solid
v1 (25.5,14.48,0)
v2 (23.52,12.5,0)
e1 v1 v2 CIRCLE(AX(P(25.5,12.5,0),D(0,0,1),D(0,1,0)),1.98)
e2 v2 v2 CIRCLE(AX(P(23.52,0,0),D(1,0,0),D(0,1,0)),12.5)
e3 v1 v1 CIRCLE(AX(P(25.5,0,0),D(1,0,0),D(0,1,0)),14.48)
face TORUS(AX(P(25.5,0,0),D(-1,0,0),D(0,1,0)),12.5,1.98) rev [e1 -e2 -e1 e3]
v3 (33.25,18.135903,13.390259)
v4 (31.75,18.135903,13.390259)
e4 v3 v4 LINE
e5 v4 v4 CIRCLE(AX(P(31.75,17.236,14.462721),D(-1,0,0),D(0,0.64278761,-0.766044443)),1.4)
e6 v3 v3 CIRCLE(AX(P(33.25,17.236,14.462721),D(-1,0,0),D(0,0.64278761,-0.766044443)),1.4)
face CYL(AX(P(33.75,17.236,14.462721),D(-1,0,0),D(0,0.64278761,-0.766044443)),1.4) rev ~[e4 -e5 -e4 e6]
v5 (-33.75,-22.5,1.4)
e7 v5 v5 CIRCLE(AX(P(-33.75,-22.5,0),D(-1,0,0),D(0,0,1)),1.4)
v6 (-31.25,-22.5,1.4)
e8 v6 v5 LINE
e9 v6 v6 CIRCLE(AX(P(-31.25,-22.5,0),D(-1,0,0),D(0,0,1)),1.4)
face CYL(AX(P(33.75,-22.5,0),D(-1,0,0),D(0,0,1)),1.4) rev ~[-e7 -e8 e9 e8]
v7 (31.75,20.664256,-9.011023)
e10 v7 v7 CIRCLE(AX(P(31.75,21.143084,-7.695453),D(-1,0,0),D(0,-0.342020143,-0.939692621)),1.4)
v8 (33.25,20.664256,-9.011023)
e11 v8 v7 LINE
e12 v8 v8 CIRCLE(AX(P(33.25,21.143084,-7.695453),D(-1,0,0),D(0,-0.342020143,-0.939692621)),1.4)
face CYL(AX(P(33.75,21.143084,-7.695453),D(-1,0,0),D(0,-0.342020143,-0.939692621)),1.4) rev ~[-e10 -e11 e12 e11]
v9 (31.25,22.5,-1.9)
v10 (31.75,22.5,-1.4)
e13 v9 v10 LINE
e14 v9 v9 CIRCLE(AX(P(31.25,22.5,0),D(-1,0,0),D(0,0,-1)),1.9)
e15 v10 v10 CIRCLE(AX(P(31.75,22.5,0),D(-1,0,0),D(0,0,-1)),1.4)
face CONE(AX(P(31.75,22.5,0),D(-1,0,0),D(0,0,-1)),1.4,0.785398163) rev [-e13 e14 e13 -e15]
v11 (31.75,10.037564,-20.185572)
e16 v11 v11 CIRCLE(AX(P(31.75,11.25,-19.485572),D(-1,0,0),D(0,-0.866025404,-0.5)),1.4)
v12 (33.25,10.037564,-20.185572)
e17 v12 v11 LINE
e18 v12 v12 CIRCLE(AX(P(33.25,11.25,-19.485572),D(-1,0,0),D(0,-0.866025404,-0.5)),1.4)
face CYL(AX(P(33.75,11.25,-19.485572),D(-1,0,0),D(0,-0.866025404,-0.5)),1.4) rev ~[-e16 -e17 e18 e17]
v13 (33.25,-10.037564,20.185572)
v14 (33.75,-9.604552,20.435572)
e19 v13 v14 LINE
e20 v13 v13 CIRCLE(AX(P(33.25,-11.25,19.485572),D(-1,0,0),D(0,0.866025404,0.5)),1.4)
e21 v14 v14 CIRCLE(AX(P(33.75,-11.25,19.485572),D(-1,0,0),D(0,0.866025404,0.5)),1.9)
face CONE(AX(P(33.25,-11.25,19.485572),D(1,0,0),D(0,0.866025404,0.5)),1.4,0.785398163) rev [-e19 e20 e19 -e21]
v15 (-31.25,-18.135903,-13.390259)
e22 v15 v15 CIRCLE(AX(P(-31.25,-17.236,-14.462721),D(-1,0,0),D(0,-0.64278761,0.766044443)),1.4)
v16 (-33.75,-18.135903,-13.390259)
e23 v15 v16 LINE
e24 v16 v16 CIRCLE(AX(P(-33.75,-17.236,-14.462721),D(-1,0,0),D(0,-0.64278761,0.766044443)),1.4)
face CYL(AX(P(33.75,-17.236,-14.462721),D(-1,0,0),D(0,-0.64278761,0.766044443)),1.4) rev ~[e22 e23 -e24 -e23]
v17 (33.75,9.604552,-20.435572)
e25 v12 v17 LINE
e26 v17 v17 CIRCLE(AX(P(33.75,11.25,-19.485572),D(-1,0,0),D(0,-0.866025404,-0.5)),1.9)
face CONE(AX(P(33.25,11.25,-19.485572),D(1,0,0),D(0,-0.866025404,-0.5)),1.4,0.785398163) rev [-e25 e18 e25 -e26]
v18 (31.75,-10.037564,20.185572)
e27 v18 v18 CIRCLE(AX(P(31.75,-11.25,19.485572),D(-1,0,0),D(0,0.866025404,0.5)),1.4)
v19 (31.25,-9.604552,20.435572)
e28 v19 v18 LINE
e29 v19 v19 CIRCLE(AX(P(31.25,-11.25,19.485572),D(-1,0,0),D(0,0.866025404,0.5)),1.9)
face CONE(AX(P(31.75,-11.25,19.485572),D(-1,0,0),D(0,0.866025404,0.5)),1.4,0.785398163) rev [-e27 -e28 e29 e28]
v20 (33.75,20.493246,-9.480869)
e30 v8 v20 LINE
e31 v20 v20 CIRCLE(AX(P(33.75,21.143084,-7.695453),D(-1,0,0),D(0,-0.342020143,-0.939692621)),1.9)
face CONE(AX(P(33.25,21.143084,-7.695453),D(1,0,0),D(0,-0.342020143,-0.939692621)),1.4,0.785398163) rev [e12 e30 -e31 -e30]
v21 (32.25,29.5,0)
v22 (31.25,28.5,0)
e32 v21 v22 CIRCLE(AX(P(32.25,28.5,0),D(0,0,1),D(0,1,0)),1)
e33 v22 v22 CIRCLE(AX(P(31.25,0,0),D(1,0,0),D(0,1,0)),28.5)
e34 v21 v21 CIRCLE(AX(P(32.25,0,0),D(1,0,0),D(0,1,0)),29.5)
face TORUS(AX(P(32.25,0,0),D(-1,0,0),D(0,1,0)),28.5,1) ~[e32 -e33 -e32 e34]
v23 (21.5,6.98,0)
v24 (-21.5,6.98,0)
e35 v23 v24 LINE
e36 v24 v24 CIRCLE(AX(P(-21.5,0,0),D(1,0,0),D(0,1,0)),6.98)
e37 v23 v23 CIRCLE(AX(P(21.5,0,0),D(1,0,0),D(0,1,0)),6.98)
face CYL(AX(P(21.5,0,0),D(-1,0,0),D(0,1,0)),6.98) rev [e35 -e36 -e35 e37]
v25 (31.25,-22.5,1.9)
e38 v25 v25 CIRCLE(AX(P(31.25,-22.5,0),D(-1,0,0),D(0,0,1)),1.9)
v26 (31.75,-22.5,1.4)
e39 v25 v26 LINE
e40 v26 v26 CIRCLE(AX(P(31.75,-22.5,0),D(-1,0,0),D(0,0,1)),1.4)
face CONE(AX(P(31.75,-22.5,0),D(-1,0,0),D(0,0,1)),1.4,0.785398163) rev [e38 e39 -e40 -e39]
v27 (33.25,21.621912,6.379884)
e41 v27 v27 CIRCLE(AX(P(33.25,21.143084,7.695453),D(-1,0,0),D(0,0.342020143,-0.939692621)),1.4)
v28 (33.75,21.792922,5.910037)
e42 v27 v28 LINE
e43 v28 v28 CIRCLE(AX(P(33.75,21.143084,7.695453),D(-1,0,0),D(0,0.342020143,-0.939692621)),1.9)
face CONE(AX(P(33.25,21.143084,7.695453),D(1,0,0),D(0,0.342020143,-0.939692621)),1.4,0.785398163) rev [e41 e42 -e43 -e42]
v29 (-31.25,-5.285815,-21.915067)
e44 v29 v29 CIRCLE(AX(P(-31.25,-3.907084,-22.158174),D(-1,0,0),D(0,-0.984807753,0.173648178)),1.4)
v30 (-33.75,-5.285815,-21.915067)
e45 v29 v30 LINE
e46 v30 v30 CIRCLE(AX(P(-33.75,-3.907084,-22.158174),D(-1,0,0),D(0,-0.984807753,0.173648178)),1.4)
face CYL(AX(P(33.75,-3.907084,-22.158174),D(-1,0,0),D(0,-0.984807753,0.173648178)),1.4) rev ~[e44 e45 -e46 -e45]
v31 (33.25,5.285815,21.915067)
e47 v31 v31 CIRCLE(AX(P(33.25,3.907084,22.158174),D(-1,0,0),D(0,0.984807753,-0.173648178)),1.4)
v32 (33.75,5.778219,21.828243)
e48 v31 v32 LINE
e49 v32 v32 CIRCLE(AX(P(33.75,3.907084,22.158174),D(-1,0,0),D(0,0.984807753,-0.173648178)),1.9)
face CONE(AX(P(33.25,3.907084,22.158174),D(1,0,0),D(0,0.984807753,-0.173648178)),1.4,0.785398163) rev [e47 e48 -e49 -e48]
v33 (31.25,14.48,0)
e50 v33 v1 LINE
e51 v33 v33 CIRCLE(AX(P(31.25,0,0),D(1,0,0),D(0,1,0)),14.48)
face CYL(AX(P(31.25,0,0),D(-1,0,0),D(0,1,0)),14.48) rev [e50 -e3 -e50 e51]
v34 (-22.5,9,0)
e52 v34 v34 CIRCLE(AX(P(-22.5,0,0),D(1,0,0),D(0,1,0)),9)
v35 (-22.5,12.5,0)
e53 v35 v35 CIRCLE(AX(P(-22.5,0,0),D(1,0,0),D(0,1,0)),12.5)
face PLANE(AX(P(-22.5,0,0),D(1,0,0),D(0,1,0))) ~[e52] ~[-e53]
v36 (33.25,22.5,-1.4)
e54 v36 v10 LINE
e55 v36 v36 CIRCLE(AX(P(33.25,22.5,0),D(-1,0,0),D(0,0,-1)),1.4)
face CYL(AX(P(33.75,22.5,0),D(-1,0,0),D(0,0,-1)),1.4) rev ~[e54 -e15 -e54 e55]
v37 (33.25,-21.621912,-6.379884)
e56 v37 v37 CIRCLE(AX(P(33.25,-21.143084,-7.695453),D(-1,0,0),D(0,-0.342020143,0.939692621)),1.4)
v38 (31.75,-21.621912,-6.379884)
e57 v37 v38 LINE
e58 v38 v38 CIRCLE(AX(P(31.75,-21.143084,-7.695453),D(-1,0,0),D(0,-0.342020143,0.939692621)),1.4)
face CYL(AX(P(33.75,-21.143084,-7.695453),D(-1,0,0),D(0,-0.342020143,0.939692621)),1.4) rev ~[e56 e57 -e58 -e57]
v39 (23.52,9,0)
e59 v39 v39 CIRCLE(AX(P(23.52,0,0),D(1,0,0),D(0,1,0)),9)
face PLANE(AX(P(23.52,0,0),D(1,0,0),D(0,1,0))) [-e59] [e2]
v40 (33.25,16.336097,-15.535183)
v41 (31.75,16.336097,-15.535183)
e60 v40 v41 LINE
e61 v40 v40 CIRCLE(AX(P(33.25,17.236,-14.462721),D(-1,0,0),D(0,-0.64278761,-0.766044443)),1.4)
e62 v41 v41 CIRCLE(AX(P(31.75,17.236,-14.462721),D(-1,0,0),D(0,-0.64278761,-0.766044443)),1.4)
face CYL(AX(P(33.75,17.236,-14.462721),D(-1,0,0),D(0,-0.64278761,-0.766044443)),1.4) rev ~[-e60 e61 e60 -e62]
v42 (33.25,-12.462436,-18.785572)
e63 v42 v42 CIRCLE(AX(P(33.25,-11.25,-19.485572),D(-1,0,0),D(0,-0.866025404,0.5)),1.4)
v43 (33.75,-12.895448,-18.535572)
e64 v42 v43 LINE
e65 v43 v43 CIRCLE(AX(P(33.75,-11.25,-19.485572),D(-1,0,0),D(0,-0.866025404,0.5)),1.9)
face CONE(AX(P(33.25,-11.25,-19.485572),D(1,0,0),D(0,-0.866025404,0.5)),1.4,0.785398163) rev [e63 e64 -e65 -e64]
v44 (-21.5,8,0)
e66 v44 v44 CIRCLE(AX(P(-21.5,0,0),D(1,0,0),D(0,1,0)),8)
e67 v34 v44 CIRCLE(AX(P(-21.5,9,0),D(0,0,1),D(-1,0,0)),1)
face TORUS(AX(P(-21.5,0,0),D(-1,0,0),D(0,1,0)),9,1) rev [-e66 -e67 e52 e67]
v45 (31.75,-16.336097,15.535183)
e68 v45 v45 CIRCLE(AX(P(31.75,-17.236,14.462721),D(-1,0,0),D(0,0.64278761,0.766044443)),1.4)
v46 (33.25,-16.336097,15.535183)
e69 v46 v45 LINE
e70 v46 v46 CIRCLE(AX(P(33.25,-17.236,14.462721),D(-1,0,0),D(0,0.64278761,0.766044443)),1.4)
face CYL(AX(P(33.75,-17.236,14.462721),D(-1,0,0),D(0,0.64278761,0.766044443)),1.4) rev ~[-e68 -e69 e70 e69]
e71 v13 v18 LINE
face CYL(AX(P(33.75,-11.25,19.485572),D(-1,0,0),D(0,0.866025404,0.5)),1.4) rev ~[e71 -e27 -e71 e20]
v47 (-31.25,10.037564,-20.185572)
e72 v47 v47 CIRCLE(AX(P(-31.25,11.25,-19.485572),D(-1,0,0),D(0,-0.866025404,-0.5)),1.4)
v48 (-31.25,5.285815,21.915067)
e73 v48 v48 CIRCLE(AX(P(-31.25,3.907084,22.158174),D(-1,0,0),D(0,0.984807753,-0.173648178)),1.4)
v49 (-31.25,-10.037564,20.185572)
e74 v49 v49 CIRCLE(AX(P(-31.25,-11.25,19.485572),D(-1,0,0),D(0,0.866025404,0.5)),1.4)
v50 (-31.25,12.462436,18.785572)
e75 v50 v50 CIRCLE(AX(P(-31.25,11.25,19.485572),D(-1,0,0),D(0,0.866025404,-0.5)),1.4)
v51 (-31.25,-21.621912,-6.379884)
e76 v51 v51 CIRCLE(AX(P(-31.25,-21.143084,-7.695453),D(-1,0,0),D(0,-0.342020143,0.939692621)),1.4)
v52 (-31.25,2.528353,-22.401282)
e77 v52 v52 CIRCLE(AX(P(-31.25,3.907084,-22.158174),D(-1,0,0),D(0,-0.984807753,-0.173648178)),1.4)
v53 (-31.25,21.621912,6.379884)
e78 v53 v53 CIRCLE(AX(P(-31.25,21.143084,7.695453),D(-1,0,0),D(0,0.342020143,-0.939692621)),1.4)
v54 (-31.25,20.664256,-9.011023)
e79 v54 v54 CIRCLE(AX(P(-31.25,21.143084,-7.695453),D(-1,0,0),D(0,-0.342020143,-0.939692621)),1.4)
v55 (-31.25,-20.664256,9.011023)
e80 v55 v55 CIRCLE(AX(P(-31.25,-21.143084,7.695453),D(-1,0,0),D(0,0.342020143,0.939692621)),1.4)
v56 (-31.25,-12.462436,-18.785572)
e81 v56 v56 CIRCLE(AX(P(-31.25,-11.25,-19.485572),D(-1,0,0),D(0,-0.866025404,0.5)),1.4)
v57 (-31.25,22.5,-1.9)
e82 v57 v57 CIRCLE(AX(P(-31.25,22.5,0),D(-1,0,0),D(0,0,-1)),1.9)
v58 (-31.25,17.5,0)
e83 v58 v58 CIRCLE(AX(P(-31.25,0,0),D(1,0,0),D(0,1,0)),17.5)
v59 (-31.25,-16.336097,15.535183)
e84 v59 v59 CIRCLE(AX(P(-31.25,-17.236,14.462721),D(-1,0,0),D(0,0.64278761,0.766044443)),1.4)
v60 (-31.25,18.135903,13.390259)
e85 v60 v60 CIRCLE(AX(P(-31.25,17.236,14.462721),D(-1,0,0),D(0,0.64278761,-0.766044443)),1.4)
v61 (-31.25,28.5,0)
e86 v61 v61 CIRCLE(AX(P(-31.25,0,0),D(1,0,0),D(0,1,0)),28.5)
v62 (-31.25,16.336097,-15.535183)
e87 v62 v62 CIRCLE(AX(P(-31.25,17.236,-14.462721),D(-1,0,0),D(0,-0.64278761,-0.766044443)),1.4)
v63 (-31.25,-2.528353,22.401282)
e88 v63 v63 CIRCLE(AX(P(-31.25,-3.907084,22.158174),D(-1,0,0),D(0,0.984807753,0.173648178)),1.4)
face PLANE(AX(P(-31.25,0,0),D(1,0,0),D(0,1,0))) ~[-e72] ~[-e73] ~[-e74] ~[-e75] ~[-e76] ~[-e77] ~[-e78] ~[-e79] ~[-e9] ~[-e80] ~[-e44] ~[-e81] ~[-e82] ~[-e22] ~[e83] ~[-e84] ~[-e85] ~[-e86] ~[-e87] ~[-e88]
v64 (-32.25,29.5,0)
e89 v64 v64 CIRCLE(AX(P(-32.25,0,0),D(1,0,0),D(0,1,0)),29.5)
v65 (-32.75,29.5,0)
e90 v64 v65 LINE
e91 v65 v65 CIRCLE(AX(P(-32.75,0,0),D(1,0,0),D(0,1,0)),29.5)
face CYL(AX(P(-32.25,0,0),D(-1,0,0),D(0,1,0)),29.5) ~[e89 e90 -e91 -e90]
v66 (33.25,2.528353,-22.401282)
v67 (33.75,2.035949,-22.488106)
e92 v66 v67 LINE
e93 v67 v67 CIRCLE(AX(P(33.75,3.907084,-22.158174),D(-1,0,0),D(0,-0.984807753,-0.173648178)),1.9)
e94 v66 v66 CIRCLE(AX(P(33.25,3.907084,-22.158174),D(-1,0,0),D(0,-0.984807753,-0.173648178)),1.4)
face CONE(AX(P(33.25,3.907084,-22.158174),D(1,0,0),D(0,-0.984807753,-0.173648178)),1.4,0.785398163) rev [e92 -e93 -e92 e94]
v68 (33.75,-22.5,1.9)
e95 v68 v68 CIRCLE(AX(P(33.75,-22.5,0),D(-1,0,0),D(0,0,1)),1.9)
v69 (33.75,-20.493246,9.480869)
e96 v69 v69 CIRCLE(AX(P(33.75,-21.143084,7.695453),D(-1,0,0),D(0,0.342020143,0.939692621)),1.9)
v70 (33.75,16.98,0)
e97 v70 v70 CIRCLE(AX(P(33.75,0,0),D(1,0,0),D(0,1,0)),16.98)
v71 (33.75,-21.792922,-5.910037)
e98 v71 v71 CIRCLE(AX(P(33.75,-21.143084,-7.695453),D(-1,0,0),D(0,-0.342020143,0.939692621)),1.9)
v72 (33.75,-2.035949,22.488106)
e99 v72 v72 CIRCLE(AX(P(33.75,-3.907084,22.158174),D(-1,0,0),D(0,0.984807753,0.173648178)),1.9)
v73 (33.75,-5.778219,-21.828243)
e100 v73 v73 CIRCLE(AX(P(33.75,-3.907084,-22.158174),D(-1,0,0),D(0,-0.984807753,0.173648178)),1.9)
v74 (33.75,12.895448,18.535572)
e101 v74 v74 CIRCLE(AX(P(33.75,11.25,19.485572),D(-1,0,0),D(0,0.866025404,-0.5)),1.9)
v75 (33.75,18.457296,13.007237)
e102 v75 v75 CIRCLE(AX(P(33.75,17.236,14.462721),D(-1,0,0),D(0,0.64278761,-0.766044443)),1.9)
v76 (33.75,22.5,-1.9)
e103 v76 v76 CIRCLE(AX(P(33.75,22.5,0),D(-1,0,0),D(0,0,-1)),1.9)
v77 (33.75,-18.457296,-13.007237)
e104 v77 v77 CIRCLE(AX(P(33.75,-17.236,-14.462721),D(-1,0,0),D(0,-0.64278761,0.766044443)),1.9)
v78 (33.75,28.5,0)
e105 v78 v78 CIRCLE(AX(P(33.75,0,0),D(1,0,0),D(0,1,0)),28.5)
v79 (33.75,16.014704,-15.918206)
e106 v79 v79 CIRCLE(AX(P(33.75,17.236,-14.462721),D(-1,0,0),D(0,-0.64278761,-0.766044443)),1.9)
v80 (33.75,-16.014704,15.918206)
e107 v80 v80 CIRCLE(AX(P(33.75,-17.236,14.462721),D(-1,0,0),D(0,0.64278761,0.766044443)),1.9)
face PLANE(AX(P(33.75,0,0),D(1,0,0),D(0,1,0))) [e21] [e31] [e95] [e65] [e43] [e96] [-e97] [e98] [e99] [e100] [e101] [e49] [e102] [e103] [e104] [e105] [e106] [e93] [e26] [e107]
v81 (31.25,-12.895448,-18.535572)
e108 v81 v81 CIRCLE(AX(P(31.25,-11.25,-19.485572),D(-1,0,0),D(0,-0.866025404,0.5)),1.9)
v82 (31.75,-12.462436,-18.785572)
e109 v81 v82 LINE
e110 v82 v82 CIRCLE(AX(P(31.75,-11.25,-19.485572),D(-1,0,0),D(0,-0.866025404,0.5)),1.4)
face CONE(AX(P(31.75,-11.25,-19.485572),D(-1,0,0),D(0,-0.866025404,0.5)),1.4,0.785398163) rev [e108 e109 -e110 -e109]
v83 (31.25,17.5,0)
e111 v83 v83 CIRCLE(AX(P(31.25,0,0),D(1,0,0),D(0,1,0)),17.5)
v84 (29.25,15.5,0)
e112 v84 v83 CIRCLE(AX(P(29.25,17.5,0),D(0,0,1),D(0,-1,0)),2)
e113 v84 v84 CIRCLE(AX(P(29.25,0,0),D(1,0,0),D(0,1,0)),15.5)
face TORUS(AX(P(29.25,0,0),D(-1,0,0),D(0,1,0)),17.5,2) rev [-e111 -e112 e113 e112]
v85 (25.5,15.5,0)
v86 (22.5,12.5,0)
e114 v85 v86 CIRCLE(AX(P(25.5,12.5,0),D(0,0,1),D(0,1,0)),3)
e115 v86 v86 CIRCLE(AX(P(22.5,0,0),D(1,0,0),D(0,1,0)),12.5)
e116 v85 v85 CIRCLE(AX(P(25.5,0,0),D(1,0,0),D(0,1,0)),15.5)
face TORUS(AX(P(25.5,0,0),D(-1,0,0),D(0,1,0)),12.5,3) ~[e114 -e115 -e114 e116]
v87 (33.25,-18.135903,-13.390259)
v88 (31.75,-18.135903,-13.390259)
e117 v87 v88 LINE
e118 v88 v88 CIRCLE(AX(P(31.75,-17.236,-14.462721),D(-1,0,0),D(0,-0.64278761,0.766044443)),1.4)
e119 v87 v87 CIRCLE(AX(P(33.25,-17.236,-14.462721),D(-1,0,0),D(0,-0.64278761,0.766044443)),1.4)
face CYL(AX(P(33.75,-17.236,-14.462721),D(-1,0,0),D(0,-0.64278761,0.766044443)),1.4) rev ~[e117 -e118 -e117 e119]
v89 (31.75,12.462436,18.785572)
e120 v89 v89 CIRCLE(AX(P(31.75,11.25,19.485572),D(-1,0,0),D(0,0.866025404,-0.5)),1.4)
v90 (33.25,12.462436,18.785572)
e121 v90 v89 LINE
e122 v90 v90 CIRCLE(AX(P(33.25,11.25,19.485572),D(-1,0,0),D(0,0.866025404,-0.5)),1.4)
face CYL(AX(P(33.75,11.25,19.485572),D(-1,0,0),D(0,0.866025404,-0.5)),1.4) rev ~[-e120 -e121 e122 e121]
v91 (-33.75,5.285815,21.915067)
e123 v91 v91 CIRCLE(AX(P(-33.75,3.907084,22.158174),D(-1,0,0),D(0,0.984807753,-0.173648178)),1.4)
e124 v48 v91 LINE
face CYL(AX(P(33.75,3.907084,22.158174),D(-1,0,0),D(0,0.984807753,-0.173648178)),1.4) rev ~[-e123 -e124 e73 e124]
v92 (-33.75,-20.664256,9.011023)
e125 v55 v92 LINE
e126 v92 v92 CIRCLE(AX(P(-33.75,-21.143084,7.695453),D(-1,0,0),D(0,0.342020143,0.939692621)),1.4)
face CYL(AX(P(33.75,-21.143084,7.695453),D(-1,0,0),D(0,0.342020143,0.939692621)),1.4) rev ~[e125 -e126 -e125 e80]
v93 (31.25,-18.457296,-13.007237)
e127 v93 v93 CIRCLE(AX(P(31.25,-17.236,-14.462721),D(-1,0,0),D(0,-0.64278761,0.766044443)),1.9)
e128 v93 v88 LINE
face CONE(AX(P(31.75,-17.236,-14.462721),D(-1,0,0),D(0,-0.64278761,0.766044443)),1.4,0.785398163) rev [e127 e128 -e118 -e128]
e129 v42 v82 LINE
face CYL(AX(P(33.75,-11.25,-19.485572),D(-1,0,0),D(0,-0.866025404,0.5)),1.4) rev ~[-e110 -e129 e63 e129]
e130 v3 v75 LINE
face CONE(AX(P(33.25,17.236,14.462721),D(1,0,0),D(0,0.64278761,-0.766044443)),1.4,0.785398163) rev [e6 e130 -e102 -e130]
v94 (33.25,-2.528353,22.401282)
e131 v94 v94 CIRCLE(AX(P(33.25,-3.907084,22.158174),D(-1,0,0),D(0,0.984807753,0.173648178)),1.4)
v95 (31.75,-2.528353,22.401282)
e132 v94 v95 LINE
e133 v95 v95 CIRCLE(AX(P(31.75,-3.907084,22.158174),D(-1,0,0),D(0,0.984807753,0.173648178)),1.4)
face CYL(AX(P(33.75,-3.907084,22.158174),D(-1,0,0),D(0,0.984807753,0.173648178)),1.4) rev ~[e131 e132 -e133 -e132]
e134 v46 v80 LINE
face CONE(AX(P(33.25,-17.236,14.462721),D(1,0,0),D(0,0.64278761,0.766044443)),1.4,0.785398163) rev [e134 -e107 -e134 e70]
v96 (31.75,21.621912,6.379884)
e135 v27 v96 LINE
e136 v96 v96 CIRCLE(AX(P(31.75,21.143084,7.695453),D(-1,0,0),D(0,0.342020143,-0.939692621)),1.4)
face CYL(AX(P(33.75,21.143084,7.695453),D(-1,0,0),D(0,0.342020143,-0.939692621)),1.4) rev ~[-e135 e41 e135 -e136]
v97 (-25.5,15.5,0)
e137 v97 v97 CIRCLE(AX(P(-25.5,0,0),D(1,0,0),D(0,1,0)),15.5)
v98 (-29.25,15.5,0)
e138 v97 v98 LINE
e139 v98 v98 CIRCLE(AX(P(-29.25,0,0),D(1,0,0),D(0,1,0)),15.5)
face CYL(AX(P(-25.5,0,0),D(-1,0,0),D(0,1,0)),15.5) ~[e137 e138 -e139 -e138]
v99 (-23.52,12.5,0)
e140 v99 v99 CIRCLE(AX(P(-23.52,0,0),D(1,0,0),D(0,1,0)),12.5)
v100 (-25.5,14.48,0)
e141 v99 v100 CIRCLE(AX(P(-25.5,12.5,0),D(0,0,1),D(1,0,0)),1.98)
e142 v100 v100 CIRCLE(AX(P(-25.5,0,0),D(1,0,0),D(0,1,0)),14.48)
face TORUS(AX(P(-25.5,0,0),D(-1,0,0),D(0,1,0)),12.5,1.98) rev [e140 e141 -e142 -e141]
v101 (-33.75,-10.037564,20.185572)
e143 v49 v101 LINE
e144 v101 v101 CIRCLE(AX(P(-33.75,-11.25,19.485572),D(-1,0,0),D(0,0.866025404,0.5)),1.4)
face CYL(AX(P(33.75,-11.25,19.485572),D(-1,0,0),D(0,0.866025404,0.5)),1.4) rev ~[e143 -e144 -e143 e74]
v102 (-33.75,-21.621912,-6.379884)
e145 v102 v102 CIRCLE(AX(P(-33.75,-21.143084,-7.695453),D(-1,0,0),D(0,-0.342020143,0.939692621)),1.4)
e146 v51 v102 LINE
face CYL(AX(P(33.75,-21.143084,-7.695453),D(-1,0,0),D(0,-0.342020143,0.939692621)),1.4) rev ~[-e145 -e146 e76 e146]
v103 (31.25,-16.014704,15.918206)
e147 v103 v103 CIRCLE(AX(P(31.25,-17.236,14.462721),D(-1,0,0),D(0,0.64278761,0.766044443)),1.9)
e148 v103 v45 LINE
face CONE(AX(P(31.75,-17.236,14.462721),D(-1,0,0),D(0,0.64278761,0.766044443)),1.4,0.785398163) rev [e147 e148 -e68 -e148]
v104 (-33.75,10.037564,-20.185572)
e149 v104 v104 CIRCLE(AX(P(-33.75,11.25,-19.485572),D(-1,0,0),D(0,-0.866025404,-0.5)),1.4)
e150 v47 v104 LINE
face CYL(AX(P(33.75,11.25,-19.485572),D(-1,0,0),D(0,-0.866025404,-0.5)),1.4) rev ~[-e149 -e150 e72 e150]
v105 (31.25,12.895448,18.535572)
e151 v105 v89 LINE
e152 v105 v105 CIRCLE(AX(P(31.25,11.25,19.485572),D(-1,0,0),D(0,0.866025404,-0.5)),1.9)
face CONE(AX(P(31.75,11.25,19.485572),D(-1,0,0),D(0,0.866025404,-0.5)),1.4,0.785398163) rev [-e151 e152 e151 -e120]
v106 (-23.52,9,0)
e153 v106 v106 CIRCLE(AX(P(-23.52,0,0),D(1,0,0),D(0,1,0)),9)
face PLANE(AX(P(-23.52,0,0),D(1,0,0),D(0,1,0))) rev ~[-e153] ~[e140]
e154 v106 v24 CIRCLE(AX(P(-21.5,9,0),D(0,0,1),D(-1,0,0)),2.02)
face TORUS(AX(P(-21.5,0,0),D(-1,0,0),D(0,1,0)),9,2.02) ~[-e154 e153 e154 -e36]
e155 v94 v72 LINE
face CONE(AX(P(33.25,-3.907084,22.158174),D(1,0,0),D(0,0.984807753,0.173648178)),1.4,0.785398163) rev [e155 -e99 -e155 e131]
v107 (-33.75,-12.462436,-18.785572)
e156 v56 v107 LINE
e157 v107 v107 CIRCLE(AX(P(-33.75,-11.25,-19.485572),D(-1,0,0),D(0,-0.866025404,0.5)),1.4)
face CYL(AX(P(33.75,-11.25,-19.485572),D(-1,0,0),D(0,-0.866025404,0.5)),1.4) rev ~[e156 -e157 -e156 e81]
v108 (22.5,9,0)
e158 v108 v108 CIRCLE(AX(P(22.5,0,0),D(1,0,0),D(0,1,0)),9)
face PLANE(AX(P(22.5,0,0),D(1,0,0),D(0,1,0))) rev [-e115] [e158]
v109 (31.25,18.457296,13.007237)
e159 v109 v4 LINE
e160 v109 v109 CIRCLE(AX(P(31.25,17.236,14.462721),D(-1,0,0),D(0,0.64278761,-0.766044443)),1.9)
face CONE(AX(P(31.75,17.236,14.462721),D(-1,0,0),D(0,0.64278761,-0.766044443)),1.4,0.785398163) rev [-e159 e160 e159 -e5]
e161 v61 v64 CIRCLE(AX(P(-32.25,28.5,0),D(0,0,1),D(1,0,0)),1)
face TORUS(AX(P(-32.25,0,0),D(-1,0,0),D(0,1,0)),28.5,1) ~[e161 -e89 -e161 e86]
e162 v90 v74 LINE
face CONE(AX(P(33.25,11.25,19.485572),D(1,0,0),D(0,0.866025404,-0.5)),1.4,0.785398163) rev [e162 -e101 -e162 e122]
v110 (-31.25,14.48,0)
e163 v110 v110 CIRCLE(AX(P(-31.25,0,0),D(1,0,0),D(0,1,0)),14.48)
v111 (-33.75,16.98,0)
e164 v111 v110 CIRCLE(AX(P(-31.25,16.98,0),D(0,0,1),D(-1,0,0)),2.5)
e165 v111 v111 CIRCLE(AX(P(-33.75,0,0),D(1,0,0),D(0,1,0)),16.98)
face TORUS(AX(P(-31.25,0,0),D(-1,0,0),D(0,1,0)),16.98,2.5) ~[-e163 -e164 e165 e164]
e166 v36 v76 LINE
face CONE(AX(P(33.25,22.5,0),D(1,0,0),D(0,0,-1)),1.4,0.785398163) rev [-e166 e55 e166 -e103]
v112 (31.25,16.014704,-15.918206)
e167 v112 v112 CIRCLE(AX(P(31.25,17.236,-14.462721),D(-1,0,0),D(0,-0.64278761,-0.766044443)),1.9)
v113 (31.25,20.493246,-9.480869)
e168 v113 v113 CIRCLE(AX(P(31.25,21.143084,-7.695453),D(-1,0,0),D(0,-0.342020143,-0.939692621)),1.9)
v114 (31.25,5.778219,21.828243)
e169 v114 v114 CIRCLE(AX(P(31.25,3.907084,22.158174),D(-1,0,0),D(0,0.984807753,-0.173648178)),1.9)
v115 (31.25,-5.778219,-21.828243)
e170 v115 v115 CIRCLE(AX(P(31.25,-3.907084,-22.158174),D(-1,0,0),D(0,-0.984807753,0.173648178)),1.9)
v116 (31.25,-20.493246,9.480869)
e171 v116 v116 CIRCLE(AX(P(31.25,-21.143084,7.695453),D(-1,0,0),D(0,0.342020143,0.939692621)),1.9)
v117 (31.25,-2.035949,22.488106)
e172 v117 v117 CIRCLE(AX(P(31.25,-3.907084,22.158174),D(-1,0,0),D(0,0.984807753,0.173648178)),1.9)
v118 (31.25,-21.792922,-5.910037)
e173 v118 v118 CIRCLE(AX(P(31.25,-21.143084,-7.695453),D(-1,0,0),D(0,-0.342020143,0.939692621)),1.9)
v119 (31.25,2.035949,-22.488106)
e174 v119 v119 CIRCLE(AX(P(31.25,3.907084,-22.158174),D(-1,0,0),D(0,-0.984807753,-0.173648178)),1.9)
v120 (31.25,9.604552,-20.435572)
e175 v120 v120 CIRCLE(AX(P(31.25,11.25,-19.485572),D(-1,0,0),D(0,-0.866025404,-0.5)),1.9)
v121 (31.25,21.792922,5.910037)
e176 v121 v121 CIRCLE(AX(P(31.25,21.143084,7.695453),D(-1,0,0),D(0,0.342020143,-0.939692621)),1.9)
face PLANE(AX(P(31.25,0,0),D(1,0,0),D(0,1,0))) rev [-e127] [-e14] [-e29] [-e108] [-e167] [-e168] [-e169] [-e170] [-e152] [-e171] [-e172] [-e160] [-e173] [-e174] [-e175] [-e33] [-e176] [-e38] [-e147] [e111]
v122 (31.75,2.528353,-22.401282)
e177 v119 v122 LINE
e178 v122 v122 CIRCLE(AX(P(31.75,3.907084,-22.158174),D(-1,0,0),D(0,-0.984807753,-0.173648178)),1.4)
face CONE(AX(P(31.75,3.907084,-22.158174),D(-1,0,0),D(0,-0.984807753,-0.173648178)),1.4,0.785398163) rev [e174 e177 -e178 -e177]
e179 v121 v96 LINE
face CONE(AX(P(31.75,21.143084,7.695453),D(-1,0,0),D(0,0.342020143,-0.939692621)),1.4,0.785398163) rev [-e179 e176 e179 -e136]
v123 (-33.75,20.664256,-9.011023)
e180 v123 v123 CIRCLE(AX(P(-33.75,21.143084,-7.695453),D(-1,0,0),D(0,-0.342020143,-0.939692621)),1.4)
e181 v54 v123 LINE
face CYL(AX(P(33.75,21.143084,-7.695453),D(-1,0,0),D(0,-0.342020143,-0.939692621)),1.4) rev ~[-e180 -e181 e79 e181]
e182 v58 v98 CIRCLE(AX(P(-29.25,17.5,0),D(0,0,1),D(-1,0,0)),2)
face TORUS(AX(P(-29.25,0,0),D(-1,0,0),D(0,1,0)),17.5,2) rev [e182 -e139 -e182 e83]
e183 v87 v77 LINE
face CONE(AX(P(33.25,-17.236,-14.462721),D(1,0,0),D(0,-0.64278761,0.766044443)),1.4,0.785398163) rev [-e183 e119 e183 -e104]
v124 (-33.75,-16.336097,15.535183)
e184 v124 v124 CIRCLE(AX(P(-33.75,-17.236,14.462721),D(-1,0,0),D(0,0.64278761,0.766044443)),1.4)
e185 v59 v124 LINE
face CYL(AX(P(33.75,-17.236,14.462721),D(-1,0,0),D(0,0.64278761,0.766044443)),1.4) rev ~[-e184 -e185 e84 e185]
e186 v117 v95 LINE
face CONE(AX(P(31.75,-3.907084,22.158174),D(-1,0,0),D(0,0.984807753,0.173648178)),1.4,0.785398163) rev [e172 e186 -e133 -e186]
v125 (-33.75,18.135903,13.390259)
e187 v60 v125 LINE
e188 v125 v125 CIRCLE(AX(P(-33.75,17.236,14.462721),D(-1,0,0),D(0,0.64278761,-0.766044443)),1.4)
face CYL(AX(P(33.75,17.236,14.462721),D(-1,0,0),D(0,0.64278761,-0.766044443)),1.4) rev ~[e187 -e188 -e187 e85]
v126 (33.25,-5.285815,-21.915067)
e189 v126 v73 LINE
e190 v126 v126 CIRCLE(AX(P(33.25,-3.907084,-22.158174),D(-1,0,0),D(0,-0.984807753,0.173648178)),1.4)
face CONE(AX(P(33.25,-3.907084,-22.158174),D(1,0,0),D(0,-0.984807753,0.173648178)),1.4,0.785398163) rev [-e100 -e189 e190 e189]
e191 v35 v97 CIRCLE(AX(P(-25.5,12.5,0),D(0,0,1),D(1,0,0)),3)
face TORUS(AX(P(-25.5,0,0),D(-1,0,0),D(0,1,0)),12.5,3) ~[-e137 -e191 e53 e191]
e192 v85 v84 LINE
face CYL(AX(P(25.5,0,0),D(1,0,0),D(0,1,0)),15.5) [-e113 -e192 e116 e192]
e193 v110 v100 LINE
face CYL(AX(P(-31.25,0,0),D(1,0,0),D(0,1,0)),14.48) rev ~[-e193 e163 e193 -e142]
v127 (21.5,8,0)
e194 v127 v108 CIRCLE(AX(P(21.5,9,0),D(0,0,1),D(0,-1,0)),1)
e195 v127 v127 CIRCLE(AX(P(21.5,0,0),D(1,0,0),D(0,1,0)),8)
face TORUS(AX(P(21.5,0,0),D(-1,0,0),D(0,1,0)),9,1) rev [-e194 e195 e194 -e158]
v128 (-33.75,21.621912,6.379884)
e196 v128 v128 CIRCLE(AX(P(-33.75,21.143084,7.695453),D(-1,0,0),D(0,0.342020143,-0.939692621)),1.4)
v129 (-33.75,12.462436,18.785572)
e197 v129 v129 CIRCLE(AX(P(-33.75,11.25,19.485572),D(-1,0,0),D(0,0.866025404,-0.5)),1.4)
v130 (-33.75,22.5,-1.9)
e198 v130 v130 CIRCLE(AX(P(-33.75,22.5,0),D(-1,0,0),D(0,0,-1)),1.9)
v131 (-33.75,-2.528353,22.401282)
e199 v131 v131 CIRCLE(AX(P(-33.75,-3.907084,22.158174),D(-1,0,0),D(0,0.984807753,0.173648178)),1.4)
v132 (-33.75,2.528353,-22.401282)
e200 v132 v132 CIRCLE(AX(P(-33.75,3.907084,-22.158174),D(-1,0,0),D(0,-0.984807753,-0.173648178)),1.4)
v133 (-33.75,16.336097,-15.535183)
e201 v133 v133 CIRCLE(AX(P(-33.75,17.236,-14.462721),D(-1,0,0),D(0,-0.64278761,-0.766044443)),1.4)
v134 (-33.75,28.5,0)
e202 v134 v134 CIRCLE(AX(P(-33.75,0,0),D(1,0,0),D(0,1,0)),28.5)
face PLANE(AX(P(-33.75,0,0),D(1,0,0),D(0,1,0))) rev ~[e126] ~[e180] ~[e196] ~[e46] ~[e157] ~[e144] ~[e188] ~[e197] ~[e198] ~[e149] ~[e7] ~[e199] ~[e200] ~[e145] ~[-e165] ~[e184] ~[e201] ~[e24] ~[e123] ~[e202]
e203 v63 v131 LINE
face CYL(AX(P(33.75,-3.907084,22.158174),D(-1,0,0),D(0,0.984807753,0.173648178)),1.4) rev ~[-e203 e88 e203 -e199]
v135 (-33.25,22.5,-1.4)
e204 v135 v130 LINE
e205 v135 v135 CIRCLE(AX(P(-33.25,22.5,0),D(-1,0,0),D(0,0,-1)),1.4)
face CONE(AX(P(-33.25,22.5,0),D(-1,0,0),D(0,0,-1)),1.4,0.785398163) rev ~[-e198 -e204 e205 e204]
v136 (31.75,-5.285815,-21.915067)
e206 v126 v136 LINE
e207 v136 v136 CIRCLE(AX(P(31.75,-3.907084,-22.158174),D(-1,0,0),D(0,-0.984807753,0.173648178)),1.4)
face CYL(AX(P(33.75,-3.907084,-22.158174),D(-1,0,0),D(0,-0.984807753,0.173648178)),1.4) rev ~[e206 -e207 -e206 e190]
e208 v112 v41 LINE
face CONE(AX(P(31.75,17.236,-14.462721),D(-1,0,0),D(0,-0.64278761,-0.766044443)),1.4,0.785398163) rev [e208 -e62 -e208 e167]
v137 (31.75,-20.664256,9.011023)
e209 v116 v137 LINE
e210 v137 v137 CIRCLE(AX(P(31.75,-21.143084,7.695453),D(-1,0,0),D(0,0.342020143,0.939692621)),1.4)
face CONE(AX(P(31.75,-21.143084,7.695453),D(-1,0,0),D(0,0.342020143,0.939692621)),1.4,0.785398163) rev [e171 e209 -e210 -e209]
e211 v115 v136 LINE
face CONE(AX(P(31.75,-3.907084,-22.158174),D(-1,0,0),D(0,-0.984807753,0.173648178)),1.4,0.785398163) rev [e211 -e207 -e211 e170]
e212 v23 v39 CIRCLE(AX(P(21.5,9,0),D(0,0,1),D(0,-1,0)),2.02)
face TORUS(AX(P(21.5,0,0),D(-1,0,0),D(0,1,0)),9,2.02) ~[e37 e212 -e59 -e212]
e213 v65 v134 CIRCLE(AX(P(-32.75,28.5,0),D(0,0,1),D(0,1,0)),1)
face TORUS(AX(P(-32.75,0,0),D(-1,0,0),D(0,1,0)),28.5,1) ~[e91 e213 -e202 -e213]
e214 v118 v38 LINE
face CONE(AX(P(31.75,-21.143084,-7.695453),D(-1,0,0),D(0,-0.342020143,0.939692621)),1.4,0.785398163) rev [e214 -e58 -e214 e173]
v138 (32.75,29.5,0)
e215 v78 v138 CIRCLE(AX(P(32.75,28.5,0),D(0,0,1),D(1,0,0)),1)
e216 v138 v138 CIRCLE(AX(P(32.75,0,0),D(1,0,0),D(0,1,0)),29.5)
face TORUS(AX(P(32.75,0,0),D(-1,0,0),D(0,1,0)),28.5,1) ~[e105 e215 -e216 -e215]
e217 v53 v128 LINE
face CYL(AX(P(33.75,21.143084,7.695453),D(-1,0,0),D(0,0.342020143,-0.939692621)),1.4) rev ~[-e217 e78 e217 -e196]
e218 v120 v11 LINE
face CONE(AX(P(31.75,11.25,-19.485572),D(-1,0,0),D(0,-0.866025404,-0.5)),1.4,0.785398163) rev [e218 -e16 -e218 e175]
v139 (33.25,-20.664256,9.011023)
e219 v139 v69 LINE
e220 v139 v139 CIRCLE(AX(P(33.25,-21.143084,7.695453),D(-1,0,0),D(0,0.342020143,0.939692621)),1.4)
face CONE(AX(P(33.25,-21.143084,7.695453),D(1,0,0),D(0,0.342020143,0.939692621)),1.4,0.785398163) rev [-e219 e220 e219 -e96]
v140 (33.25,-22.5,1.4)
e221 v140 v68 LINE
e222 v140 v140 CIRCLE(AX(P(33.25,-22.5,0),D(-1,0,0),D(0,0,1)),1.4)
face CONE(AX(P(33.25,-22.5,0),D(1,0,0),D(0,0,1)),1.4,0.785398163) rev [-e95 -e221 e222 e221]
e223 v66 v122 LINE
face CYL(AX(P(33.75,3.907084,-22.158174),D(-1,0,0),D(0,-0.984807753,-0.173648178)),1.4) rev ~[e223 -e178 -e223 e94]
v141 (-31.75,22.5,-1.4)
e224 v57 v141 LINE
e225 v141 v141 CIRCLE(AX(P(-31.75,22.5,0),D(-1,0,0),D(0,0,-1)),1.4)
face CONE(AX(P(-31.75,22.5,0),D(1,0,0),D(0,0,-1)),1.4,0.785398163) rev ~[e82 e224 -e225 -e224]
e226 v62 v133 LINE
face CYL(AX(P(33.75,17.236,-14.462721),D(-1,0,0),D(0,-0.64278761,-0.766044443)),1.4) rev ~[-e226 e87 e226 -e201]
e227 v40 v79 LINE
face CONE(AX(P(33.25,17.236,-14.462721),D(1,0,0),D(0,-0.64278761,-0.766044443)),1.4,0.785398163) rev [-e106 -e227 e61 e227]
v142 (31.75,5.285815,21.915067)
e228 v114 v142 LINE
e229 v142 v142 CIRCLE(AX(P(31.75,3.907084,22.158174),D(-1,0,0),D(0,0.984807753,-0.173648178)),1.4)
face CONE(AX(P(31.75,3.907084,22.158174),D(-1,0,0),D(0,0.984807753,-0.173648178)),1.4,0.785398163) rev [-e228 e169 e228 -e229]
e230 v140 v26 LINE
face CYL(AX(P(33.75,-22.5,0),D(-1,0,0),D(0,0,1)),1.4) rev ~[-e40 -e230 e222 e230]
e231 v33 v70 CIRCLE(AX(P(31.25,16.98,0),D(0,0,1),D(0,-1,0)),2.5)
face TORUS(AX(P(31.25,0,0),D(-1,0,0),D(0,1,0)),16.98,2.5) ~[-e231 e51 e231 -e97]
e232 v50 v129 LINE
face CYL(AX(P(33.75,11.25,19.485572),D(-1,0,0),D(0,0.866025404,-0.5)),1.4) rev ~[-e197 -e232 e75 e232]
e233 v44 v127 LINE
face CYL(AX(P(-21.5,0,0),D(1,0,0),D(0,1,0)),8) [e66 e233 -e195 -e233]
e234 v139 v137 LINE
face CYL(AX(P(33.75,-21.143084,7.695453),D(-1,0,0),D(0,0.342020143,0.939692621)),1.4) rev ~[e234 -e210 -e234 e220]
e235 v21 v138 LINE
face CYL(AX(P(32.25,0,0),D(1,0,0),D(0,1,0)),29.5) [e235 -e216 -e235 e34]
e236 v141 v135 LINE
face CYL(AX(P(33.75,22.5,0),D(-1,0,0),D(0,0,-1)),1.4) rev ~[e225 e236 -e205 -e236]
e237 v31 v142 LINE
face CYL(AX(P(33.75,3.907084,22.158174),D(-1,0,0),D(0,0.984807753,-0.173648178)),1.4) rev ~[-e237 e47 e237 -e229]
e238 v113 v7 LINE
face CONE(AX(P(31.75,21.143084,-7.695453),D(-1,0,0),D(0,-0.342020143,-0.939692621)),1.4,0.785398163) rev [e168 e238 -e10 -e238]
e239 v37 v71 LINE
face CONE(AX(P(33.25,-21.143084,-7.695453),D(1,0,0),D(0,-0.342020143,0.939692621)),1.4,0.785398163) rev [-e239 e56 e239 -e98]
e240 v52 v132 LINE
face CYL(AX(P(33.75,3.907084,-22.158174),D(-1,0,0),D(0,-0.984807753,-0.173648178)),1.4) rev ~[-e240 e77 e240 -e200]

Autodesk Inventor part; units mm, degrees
ref_plane "YZ Plane" through (0, 0, 0) normal (1, 0, 0) x (0, 1, 0)
ref_plane "XZ Plane" through (0, 0, 0) normal (0, 1, 0) x (-1, 0, 0)
ref_plane "XY Plane" through (0, 0, 0) normal (0, 0, 1) x (1, 0, 0)
sketch "Szkic1" plane through (0, 0, 0) normal (0, 0, 1) x (1, 0, 0)
  line L0 (-11.9267, 0) -> (11.9804, 0) construction
  line L1 (-21.5, 8) -> (21.5, 8)
  line L2 (0, 16.2765) -> (0, -12.1999) construction
  arc A0 (21.5, 8) -> (22.5, 9) centre (21.5, 9) ccw
  line L3 (22.5, 9) -> (22.5, 12.5)
  arc A1 (25.5, 15.5) -> (22.5, 12.5) centre (25.5, 12.5) ccw
  line L4 (25.5, 15.5) -> (29.25, 15.5)
  arc A2 (29.25, 15.5) -> (31.25, 17.5) centre (29.25, 17.5) ccw
  line L5 (31.25, 17.5) -> (31.25, 28.5)
  arc A3 (32.25, 29.5) -> (31.25, 28.5) centre (32.25, 28.5) ccw
  line L6 (32.25, 29.5) -> (32.75, 29.5)
  line L7 (33.75, 28.5) -> (33.75, 16.98)
  arc A4 (33.75, 28.5) -> (32.75, 29.5) centre (32.75, 28.5) ccw
  line L8 (31.25, 14.48) -> (25.5, 14.48)
  arc A5 (25.5, 14.48) -> (23.52, 12.5) centre (25.5, 12.5) ccw
  line L9 (23.52, 12.5) -> (23.52, 9)
  arc A6 (21.5, 6.98) -> (23.52, 9) centre (21.5, 9) ccw
  line L10 (21.5, 6.98) -> (-21.5, 6.98)
  arc A7 (31.25, 14.48) -> (33.75, 16.98) centre (31.25, 16.98) ccw
  arc A8 (-22.5, 9) -> (-21.5, 8) centre (-21.5, 9) ccw
  line L11 (-22.5, 9) -> (-22.5, 12.5)
  arc A9 (-22.5, 12.5) -> (-25.5, 15.5) centre (-25.5, 12.5) ccw
  line L12 (-25.5, 15.5) -> (-29.25, 15.5)
  arc A10 (-31.25, 17.5) -> (-29.25, 15.5) centre (-29.25, 17.5) ccw
  arc A11 (-33.75, 16.98) -> (-31.25, 14.48) centre (-31.25, 16.98) ccw
  line L13 (-31.25, 14.48) -> (-25.5, 14.48)
  arc A12 (-23.52, 12.5) -> (-25.5, 14.48) centre (-25.5, 12.5) ccw
  line L14 (-23.52, 12.5) -> (-23.52, 9)
  arc A13 (-23.52, 9) -> (-21.5, 6.98) centre (-21.5, 9) ccw
  line L15 (-31.25, 17.5) -> (-31.25, 28.5)
  arc A14 (-31.25, 28.5) -> (-32.25, 29.5) centre (-32.25, 28.5) ccw
  line L16 (-32.25, 29.5) -> (-32.75, 29.5)
  arc A15 (-32.75, 29.5) -> (-33.75, 28.5) centre (-32.75, 28.5) ccw
  line L17 (-33.75, 28.5) -> (-33.75, 16.98)
  point P0 (0, 0)
  dimension "d1" = 8
  dimension "d8" = 1
  dimension "d16" = 3
  dimension "d18" = 2
  dimension "d20" = 1
  dimension "d22" = 29.5
  dimension "d23" = 1
  dimension "d24" = 2.5
  dimension "d25" = 8.25
  dimension "d27" = 33.75
  dimension "d32" = 1.02
  dimension "d33" = 1.02
  dimension "d34" = 1.02
  dimension "d35" = 1.02
  dimension "d36" = 1.02
  dimension "d38" = 2.5
  dimension "d39" = 15.5
  dimension "d41" = 33.75
  dimension "d42" = 15.5
  dimension "d43" = 1.02
revolve "Piasta" add sketch "Szkic1" angle 360 about axis through (-11.9267, 0, 0) along (1, 0, 0)
sketch "Szkic2" plane through (33.75, 0, 0) normal (1, 0, 0) x (0, 0, -1)
  circle A0 centre (0, 0) radius 28.5 projected
  point P0 (0, 22.5)
  dimension "d44" = 22.5
hole "Otwór na szprychę" at (33.75, 22.5, 0) direction (-1, 0, 0) diameter 2.8 end through all
chamfer "Faza1" distance 0.5 angle 45 2 edges at (31.25, 22.5, 1.4) (33.75, 22.5, 1.4) measured on face at (32.9167, 22.6127, -1.3955)
chamfer "Faza2" distance 0.5 angle 45 2 edges at (-33.75, 22.5, 1.4) (-31.25, 22.5, 1.4) measured on face at (-32.0833, 22.7246, -1.3819)
pattern_circular "Szyk otworów na szprychy" count 18 over 360 about axis through (32.25, 0, 0) along (1, 0, 0) of "Otwór na szprychę", "Faza1"
properties part number "Korpus_piasty" material "Aluminium AW-7020"
